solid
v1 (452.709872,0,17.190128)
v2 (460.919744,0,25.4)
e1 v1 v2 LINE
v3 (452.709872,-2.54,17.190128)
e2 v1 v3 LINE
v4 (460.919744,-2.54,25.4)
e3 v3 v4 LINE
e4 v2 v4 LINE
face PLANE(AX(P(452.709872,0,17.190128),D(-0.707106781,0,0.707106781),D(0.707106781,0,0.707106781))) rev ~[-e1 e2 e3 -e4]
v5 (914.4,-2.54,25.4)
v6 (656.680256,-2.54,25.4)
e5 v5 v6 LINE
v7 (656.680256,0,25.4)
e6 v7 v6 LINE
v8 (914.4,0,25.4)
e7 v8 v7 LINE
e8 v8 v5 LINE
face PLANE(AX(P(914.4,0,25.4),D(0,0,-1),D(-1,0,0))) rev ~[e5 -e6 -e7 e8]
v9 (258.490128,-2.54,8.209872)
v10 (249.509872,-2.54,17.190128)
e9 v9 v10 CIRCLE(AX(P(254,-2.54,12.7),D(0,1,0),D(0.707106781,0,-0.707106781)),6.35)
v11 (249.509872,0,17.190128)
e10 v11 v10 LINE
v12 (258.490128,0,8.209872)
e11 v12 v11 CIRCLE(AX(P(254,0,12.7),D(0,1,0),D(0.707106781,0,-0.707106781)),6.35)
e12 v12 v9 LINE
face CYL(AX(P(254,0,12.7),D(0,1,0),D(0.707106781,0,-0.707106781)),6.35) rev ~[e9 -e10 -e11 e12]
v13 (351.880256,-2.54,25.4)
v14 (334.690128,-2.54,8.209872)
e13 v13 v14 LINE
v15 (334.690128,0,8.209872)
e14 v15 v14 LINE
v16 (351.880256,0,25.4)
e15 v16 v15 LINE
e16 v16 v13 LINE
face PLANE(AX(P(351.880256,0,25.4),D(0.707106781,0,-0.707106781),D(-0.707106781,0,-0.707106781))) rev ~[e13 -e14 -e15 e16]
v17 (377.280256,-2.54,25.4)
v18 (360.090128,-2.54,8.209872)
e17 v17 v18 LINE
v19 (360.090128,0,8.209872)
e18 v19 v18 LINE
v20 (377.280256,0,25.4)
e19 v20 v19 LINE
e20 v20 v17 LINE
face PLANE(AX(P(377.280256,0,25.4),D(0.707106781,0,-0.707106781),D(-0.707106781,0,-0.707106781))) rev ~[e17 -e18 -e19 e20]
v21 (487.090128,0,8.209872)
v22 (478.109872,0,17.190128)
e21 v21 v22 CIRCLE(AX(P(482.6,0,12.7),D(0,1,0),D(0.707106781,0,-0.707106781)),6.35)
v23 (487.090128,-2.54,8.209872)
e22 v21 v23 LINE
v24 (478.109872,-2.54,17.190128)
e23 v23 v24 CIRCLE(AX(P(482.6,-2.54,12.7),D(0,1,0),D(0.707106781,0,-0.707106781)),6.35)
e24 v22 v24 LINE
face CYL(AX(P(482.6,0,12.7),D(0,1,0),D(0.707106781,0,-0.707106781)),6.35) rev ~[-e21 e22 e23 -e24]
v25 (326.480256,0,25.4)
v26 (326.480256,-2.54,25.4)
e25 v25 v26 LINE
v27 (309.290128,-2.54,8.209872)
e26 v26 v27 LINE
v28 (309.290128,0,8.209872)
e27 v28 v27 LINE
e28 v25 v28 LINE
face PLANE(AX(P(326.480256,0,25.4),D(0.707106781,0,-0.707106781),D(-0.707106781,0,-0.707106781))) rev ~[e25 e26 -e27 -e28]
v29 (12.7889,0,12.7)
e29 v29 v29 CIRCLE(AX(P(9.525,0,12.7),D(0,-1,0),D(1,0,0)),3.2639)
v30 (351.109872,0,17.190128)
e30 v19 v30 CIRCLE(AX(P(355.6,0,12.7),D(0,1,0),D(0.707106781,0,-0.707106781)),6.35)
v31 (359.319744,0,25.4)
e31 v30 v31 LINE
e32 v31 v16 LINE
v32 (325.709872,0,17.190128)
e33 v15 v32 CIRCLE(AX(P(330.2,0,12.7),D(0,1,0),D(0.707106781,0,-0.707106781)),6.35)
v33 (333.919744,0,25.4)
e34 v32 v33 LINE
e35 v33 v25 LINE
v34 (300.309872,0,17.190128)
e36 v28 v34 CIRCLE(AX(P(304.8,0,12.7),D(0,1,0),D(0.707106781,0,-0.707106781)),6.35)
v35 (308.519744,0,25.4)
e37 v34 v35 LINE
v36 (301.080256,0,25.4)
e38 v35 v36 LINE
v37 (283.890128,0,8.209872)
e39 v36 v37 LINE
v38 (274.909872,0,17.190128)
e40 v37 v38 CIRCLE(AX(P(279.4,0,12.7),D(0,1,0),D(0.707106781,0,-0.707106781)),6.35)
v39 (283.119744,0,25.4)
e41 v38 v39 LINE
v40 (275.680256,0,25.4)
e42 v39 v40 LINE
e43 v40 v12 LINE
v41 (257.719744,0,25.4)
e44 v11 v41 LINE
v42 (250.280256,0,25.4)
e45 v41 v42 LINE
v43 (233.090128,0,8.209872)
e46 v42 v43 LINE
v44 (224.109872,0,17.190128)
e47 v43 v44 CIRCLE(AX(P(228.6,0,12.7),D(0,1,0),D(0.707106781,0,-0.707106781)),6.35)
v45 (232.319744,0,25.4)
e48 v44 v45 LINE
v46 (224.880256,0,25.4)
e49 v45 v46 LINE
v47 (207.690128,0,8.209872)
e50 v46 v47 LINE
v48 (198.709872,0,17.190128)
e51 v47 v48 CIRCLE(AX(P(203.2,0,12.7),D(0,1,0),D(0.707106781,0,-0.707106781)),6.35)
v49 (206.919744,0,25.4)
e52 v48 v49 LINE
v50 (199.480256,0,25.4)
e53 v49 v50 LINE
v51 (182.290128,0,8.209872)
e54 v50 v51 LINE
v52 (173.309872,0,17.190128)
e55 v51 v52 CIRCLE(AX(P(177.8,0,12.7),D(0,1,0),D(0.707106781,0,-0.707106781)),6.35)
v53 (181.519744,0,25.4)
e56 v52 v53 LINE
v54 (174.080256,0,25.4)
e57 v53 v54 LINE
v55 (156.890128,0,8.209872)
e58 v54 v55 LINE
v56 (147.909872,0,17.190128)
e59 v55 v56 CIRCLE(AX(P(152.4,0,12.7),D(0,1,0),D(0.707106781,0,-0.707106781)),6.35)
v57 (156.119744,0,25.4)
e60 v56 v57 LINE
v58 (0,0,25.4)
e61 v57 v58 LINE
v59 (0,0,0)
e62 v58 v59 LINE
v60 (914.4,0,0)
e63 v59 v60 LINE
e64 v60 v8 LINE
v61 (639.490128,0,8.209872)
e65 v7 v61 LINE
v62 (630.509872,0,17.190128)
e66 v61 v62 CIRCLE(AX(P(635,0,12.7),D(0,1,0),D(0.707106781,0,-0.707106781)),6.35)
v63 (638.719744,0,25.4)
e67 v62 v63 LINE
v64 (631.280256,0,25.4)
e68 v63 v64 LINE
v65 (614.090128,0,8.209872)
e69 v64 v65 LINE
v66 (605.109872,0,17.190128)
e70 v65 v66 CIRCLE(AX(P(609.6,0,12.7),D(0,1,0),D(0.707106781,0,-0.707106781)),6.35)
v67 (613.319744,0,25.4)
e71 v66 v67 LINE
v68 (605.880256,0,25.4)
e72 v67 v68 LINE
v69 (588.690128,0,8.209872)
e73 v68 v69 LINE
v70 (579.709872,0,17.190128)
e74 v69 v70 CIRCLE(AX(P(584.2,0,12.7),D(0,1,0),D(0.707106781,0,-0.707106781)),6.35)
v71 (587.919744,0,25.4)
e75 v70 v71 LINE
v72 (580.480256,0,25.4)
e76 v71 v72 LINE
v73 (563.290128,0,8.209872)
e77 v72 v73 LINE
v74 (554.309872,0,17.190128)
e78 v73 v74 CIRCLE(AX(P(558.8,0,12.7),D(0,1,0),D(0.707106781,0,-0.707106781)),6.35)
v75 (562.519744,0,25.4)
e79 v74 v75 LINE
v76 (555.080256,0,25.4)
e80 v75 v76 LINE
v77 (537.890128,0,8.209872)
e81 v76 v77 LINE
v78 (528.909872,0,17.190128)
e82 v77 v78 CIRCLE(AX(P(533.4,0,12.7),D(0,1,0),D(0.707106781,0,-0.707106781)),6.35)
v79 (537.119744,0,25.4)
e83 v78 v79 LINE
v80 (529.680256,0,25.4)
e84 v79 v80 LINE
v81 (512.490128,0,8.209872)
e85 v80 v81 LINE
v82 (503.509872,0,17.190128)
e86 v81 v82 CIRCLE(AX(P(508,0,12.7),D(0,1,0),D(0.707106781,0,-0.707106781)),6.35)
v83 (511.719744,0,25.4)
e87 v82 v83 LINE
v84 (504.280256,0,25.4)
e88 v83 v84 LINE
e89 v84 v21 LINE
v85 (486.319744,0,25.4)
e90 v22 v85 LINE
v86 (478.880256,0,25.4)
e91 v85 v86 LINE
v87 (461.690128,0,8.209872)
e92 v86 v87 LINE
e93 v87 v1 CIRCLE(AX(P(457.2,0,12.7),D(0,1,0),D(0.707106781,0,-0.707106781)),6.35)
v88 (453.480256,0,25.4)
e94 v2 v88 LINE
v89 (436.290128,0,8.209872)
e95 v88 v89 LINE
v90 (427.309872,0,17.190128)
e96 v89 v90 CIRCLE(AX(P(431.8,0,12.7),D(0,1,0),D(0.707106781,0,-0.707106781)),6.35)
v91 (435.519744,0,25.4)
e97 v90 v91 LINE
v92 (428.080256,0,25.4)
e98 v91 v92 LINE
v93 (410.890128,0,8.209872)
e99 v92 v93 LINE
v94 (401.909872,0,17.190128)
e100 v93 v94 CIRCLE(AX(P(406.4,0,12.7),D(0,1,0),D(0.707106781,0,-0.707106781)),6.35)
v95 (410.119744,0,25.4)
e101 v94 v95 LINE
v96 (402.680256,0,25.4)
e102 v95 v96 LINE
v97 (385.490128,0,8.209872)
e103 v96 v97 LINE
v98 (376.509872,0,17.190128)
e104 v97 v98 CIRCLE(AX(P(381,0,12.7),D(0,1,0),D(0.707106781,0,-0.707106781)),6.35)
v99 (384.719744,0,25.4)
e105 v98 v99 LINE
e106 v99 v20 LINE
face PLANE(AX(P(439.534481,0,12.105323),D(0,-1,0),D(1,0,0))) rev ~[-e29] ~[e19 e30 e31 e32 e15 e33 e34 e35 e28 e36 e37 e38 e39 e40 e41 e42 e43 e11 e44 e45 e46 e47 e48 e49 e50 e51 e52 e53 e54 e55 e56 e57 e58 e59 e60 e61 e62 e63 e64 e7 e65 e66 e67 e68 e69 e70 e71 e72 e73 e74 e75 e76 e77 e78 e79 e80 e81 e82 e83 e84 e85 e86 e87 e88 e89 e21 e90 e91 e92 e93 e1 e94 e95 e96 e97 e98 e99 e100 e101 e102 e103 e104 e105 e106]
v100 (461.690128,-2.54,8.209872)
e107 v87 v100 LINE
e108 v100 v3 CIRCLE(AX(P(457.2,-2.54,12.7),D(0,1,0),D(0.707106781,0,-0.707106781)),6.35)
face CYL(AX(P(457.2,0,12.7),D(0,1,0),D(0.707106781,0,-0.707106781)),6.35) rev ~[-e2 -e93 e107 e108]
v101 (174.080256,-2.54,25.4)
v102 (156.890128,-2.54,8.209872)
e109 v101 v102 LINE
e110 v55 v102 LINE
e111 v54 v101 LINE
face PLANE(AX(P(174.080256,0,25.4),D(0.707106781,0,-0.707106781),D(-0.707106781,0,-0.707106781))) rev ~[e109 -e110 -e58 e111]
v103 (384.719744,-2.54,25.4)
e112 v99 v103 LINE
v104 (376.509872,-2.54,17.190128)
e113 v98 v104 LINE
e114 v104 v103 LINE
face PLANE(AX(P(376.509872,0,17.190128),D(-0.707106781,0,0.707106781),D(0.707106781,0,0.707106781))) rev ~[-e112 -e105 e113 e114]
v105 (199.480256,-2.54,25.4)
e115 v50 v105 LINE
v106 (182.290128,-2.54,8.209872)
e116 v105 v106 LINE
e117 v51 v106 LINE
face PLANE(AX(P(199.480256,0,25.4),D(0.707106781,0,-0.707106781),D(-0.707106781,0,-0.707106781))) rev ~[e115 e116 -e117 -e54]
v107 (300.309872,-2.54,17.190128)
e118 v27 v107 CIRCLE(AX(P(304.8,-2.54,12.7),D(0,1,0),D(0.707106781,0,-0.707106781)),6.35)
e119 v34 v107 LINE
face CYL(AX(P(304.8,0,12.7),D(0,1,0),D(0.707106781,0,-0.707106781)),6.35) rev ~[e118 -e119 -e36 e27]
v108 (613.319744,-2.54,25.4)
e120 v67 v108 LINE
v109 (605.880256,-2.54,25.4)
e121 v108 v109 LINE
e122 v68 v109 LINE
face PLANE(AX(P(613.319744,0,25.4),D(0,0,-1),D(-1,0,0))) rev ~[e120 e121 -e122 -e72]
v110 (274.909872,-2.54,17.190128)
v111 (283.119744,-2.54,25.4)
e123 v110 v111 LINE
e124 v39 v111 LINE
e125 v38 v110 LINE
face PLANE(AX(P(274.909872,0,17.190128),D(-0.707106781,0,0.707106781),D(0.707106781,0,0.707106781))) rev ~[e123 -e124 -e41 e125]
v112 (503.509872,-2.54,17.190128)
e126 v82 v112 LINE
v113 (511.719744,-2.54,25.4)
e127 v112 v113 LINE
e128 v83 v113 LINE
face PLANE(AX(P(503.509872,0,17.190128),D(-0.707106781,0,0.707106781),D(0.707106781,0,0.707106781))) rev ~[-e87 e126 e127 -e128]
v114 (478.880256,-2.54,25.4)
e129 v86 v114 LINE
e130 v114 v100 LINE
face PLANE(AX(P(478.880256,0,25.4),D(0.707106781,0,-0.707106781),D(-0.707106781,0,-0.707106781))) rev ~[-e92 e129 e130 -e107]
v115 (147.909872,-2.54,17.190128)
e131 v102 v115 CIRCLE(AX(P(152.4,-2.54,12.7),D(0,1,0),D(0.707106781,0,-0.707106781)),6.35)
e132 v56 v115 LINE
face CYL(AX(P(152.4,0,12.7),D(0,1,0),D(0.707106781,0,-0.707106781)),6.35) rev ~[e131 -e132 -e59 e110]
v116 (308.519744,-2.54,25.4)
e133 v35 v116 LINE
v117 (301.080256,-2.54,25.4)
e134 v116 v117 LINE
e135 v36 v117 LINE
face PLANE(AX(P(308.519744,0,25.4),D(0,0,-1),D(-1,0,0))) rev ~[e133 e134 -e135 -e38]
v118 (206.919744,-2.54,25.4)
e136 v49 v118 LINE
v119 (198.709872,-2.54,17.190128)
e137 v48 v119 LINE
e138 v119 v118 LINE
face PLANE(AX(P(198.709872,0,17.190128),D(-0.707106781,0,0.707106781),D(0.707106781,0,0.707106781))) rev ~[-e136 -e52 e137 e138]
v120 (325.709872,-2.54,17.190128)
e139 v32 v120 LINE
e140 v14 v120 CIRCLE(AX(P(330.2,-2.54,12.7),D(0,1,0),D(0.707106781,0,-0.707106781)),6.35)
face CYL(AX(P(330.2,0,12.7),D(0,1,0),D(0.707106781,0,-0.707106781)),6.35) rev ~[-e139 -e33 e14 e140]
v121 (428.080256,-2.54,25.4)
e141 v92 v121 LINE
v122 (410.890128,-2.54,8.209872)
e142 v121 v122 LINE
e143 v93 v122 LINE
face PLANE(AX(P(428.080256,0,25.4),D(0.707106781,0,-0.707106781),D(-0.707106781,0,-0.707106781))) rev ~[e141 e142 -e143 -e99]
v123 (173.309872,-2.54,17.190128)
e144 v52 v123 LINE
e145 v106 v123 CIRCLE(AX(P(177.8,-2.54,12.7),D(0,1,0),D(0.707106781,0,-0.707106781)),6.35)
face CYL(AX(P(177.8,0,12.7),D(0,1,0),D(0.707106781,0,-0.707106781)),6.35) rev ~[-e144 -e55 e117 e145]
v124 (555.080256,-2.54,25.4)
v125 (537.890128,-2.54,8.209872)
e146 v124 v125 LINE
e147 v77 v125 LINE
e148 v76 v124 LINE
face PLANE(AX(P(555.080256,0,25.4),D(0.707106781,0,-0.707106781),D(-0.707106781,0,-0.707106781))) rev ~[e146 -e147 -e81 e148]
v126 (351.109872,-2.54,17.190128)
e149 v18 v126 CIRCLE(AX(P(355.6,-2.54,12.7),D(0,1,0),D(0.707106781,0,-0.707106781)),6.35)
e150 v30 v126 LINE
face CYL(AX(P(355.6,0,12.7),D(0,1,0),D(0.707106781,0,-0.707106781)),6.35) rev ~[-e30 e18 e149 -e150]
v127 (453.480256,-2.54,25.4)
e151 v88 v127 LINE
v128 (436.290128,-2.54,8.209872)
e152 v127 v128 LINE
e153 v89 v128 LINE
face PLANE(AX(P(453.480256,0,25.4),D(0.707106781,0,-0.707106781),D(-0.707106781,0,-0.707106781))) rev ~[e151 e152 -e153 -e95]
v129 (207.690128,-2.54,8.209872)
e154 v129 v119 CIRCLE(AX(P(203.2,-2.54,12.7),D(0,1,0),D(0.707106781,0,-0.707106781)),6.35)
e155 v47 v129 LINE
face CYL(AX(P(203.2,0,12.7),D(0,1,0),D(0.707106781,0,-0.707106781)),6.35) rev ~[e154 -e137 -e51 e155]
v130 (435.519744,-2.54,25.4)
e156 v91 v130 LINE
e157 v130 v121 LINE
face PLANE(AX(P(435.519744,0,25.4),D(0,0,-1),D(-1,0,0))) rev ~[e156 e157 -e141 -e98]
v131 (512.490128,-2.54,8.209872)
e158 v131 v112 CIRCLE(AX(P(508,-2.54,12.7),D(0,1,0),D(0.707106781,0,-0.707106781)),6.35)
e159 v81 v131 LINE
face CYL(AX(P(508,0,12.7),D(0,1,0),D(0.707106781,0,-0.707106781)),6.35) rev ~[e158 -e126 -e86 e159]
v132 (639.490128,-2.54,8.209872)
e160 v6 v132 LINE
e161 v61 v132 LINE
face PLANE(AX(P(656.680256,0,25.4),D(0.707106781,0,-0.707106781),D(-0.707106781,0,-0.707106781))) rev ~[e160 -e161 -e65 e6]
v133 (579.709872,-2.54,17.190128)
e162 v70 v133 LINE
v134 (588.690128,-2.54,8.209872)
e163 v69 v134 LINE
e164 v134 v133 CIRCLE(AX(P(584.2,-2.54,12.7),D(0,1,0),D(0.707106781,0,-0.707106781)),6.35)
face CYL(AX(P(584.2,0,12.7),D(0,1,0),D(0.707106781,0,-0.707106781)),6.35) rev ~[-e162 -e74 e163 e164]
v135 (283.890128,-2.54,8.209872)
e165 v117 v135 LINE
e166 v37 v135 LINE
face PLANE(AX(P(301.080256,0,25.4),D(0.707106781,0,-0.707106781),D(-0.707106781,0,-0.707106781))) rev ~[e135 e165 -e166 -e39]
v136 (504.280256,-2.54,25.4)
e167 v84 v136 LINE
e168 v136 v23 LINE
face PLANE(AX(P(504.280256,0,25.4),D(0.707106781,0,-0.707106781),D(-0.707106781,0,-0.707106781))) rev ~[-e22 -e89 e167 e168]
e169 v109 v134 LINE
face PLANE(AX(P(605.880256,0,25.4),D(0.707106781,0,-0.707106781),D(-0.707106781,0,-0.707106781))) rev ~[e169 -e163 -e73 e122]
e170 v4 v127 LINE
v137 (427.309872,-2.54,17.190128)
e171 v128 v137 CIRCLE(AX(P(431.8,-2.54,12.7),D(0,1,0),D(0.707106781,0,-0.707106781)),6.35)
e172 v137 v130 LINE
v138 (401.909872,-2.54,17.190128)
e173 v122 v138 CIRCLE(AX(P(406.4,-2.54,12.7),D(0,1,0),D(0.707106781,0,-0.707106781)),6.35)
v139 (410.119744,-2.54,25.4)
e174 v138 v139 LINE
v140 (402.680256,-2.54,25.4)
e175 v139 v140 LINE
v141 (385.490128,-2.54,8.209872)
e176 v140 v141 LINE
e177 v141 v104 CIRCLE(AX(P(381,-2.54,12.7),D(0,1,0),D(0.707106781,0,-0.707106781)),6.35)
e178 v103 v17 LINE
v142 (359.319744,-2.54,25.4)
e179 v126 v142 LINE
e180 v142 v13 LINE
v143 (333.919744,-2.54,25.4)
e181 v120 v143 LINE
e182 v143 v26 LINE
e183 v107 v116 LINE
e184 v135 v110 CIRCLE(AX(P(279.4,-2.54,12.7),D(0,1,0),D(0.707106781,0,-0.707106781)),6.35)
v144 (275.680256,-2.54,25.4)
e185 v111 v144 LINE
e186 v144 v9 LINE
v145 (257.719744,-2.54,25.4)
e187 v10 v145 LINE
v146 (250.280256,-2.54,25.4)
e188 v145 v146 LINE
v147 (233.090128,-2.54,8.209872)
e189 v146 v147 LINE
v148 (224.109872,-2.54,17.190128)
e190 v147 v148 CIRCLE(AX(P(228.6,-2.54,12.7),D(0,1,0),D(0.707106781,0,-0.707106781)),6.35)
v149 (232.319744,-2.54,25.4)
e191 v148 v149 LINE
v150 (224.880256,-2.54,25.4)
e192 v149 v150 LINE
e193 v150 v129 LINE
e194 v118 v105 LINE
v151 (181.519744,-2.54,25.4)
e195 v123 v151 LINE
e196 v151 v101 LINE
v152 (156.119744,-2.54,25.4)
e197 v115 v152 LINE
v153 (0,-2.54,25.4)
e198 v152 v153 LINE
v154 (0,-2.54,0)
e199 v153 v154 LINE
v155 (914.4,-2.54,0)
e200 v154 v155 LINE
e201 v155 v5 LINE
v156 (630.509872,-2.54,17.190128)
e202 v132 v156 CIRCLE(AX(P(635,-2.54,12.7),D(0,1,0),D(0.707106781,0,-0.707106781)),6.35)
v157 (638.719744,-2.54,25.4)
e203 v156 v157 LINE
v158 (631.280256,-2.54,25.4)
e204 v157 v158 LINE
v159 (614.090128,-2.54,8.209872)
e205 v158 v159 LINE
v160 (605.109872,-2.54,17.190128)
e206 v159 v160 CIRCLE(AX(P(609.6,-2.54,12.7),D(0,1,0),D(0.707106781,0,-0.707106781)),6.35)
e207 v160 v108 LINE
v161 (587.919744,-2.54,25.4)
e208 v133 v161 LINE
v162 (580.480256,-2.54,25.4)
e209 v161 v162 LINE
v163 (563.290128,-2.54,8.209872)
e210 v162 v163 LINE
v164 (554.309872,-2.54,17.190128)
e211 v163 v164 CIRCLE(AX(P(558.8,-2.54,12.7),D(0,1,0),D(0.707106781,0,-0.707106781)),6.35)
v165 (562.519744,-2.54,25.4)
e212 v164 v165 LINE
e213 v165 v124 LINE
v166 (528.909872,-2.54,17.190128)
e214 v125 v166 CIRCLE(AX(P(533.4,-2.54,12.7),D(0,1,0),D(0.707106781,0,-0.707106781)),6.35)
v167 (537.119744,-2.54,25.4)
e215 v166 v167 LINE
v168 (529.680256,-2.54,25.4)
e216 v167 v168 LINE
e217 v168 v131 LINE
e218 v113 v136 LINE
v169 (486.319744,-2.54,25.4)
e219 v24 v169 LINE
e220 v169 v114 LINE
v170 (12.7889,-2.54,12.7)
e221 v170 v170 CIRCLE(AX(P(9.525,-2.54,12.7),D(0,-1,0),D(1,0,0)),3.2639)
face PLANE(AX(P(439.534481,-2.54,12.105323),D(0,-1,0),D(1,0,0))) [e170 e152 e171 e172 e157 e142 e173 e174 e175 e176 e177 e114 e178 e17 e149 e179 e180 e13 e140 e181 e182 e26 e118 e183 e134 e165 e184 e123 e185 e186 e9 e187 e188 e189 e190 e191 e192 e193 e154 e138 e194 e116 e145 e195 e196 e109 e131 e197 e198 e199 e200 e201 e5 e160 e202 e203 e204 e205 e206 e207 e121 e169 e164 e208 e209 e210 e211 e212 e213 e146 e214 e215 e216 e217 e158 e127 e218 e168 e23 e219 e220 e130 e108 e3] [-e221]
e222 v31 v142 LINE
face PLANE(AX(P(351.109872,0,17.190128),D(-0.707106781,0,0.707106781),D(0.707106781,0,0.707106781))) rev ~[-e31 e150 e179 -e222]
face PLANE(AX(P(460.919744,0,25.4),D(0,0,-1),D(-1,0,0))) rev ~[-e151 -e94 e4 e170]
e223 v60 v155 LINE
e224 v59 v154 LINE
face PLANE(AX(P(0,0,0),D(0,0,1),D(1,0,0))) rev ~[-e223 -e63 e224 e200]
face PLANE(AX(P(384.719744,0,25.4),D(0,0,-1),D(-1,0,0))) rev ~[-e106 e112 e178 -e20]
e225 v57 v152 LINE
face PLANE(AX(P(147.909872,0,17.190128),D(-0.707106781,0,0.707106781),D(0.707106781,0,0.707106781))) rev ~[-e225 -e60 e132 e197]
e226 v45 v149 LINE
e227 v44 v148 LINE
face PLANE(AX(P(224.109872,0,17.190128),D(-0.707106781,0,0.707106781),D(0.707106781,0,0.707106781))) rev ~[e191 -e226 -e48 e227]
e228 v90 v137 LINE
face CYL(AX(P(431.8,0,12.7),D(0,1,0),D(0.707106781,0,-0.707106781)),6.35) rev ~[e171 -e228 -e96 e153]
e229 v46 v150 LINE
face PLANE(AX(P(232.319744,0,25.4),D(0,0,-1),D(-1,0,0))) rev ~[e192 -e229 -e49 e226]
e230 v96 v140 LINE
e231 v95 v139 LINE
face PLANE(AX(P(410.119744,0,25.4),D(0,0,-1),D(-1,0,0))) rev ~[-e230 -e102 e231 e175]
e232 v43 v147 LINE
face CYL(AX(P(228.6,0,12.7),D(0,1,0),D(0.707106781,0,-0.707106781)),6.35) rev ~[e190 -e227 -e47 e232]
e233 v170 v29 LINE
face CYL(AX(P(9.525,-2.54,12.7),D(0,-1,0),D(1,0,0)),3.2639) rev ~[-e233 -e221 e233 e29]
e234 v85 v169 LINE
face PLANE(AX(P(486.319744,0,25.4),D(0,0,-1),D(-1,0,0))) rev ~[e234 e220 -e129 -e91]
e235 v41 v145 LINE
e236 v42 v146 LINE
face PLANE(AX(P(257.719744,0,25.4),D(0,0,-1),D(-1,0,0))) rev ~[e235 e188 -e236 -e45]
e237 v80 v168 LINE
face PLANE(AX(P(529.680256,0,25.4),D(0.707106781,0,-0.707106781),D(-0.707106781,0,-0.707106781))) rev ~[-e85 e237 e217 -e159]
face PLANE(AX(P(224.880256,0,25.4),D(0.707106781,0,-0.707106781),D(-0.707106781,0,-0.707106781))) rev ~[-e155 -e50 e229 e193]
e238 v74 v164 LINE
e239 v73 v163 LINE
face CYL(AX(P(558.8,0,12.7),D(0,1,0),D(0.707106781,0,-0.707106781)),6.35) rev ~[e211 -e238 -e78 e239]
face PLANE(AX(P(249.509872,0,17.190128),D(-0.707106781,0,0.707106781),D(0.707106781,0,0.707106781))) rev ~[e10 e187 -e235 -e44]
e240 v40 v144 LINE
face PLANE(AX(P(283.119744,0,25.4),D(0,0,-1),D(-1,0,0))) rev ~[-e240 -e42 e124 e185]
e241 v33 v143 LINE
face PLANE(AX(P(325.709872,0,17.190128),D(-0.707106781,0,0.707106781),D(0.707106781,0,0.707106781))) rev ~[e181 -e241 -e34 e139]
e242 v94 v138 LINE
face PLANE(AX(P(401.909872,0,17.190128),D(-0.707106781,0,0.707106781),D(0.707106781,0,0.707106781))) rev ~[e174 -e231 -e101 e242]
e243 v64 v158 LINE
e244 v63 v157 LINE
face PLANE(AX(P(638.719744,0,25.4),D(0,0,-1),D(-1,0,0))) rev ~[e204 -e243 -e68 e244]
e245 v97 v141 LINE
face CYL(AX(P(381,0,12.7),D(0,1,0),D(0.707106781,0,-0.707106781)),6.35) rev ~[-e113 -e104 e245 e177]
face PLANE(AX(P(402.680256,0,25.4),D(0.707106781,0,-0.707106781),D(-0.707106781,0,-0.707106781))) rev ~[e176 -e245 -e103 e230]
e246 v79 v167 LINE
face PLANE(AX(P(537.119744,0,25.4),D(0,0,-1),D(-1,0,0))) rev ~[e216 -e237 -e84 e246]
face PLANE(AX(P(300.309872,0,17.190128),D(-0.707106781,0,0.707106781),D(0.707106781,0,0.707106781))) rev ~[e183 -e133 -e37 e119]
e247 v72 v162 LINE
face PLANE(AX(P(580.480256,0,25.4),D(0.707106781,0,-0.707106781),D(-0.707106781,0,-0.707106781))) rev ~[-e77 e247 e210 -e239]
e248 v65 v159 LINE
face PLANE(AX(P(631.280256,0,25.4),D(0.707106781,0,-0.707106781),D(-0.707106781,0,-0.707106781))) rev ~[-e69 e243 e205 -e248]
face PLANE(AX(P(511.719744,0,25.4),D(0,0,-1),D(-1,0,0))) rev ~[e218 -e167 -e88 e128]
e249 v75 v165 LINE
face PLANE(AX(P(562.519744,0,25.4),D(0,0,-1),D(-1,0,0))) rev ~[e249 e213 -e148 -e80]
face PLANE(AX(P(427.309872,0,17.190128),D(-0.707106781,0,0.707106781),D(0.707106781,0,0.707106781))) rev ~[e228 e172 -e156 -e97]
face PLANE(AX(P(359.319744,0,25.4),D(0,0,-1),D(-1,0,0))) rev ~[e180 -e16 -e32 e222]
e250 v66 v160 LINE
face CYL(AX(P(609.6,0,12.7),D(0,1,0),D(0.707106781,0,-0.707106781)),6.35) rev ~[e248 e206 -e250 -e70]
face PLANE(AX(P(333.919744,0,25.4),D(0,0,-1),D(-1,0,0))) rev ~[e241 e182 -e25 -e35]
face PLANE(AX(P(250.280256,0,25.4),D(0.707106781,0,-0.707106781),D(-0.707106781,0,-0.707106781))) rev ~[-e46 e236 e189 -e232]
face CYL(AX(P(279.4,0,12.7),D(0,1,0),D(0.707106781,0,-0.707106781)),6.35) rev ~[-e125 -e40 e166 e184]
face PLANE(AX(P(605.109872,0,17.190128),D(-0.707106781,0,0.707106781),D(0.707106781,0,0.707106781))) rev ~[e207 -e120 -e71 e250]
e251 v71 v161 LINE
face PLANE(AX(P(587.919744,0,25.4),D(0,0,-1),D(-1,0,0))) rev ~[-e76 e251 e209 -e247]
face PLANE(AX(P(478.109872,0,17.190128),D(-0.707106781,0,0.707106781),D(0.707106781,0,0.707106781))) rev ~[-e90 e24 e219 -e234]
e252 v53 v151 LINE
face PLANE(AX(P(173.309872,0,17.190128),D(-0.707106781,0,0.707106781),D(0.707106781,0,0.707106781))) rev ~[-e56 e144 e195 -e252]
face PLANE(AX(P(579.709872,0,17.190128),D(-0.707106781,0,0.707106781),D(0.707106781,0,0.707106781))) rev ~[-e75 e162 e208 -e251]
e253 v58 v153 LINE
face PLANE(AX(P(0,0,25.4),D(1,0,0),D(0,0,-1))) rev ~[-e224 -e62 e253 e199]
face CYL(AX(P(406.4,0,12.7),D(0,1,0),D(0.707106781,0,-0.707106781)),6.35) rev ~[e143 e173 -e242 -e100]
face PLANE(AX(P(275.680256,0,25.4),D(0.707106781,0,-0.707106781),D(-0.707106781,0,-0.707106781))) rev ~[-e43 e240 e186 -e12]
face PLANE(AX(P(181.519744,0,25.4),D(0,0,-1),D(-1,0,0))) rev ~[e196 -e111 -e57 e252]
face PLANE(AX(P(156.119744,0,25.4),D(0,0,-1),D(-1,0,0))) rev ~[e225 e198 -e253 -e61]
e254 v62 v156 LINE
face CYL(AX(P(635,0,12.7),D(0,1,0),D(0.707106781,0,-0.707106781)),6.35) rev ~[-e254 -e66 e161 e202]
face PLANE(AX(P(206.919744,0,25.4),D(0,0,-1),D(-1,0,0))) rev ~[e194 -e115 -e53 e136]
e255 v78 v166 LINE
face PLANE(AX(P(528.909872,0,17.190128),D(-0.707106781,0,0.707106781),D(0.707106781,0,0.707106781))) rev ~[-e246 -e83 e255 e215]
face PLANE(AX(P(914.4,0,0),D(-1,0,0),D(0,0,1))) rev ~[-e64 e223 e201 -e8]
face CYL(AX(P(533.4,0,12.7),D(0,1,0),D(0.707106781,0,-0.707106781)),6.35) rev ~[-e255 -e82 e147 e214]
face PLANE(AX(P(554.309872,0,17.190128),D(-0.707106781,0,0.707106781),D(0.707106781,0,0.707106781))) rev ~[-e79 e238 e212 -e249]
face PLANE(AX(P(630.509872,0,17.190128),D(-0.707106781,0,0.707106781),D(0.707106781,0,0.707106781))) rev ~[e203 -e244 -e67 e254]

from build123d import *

# Parameters (mm, degrees)
F1_DEPTH = 2.54
F2_R     = 3.2639
F3_DEPTH = 2.541


with BuildPart() as f1:
    # F0 (on Front) → F1 (new body)
    with BuildSketch(Plane.XZ):
        with BuildLine():
            Line((0, 25.4), (0, 0))
            Line((0, 0), (914.4, 0))
            Line((914.4, 0), (914.4, 25.4))
            Line((914.4, 25.4), (656.680256, 25.4))
            Line((656.680256, 25.4), (639.490128, 8.209872))
            ThreePointArc((639.490128, 8.209872), (630.509872, 8.209872), (630.509872, 17.190128))
            Line((630.509872, 17.190128), (638.719744, 25.4))
            Line((638.719744, 25.4), (631.280256, 25.4))
            Line((631.280256, 25.4), (614.090128, 8.209872))
            ThreePointArc((614.090128, 8.209872), (605.109872, 8.209872), (605.109872, 17.190128))
            Line((605.109872, 17.190128), (613.319744, 25.4))
            Line((613.319744, 25.4), (605.880256, 25.4))
            Line((605.880256, 25.4), (588.690128, 8.209872))
            ThreePointArc((588.690128, 8.209872), (579.709872, 8.209872), (579.709872, 17.190128))
            Line((579.709872, 17.190128), (587.919744, 25.4))
            Line((587.919744, 25.4), (580.480256, 25.4))
            Line((580.480256, 25.4), (563.290128, 8.209872))
            ThreePointArc((563.290128, 8.209872), (554.309872, 8.209872), (554.309872, 17.190128))
            Line((554.309872, 17.190128), (562.519744, 25.4))
            Line((562.519744, 25.4), (555.080256, 25.4))
            Line((555.080256, 25.4), (537.890128, 8.209872))
            ThreePointArc((537.890128, 8.209872), (528.909872, 8.209872), (528.909872, 17.190128))
            Line((528.909872, 17.190128), (537.119744, 25.4))
            Line((537.119744, 25.4), (529.680256, 25.4))
            Line((529.680256, 25.4), (512.490128, 8.209872))
            ThreePointArc((512.490128, 8.209872), (503.509872, 8.209872), (503.509872, 17.190128))
            Line((503.509872, 17.190128), (511.719744, 25.4))
            Line((511.719744, 25.4), (504.280256, 25.4))
            Line((504.280256, 25.4), (487.090128, 8.209872))
            ThreePointArc((487.090128, 8.209872), (478.109872, 8.209872), (478.109872, 17.190128))
            Line((478.109872, 17.190128), (486.319744, 25.4))
            Line((486.319744, 25.4), (478.880256, 25.4))
            Line((478.880256, 25.4), (461.690128, 8.209872))
            ThreePointArc((461.690128, 8.209872), (452.709872, 8.209872), (452.709872, 17.190128))
            Line((452.709872, 17.190128), (460.919744, 25.4))
            Line((460.919744, 25.4), (453.480256, 25.4))
            Line((453.480256, 25.4), (436.290128, 8.209872))
            ThreePointArc((436.290128, 8.209872), (427.309872, 8.209872), (427.309872, 17.190128))
            Line((427.309872, 17.190128), (435.519744, 25.4))
            Line((435.519744, 25.4), (428.080256, 25.4))
            Line((428.080256, 25.4), (410.890128, 8.209872))
            ThreePointArc((410.890128, 8.209872), (401.909872, 8.209872), (401.909872, 17.190128))
            Line((401.909872, 17.190128), (410.119744, 25.4))
            Line((410.119744, 25.4), (402.680256, 25.4))
            Line((402.680256, 25.4), (385.490128, 8.209872))
            ThreePointArc((385.490128, 8.209872), (376.509872, 8.209872), (376.509872, 17.190128))
            Line((376.509872, 17.190128), (384.719744, 25.4))
            Line((384.719744, 25.4), (377.280256, 25.4))
            Line((377.280256, 25.4), (360.090128, 8.209872))
            ThreePointArc((360.090128, 8.209872), (351.109872, 8.209872), (351.109872, 17.190128))
            Line((351.109872, 17.190128), (359.319744, 25.4))
            Line((359.319744, 25.4), (351.880256, 25.4))
            Line((351.880256, 25.4), (334.690128, 8.209872))
            ThreePointArc((334.690128, 8.209872), (325.709872, 8.209872), (325.709872, 17.190128))
            Line((325.709872, 17.190128), (333.919744, 25.4))
            Line((333.919744, 25.4), (326.480256, 25.4))
            Line((326.480256, 25.4), (309.290128, 8.209872))
            ThreePointArc((309.290128, 8.209872), (300.309872, 8.209872), (300.309872, 17.190128))
            Line((300.309872, 17.190128), (308.519744, 25.4))
            Line((308.519744, 25.4), (301.080256, 25.4))
            Line((301.080256, 25.4), (283.890128, 8.209872))
            ThreePointArc((283.890128, 8.209872), (274.909872, 8.209872), (274.909872, 17.190128))
            Line((274.909872, 17.190128), (283.119744, 25.4))
            Line((283.119744, 25.4), (275.680256, 25.4))
            Line((275.680256, 25.4), (258.490128, 8.209872))
            ThreePointArc((258.490128, 8.209872), (249.509872, 8.209872), (249.509872, 17.190128))
            Line((249.509872, 17.190128), (257.719744, 25.4))
            Line((257.719744, 25.4), (250.280256, 25.4))
            Line((250.280256, 25.4), (233.090128, 8.209872))
            ThreePointArc((233.090128, 8.209872), (224.109872, 8.209872), (224.109872, 17.190128))
            Line((224.109872, 17.190128), (232.319744, 25.4))
            Line((232.319744, 25.4), (224.880256, 25.4))
            Line((224.880256, 25.4), (207.690128, 8.209872))
            ThreePointArc((207.690128, 8.209872), (198.709872, 8.209872), (198.709872, 17.190128))
            Line((198.709872, 17.190128), (206.919744, 25.4))
            Line((206.919744, 25.4), (199.480256, 25.4))
            Line((199.480256, 25.4), (182.290128, 8.209872))
            ThreePointArc((182.290128, 8.209872), (173.309872, 8.209872), (173.309872, 17.190128))
            Line((173.309872, 17.190128), (181.519744, 25.4))
            Line((181.519744, 25.4), (174.080256, 25.4))
            Line((174.080256, 25.4), (156.890128, 8.209872))
            ThreePointArc((156.890128, 8.209872), (147.909872, 8.209872), (147.909872, 17.190128))
            Line((147.909872, 17.190128), (156.119744, 25.4))
            Line((156.119744, 25.4), (0, 25.4))
        make_face()
    extrude(amount=F1_DEPTH)

    # F2 (on face) → F3 (cut, through all)
    with BuildSketch(Plane.XZ.offset(2.54)):
        with Locations((9.525, 12.7)):
            Circle(F2_R)
    extrude(amount=-F3_DEPTH, mode=Mode.SUBTRACT)


solid = f1.part
